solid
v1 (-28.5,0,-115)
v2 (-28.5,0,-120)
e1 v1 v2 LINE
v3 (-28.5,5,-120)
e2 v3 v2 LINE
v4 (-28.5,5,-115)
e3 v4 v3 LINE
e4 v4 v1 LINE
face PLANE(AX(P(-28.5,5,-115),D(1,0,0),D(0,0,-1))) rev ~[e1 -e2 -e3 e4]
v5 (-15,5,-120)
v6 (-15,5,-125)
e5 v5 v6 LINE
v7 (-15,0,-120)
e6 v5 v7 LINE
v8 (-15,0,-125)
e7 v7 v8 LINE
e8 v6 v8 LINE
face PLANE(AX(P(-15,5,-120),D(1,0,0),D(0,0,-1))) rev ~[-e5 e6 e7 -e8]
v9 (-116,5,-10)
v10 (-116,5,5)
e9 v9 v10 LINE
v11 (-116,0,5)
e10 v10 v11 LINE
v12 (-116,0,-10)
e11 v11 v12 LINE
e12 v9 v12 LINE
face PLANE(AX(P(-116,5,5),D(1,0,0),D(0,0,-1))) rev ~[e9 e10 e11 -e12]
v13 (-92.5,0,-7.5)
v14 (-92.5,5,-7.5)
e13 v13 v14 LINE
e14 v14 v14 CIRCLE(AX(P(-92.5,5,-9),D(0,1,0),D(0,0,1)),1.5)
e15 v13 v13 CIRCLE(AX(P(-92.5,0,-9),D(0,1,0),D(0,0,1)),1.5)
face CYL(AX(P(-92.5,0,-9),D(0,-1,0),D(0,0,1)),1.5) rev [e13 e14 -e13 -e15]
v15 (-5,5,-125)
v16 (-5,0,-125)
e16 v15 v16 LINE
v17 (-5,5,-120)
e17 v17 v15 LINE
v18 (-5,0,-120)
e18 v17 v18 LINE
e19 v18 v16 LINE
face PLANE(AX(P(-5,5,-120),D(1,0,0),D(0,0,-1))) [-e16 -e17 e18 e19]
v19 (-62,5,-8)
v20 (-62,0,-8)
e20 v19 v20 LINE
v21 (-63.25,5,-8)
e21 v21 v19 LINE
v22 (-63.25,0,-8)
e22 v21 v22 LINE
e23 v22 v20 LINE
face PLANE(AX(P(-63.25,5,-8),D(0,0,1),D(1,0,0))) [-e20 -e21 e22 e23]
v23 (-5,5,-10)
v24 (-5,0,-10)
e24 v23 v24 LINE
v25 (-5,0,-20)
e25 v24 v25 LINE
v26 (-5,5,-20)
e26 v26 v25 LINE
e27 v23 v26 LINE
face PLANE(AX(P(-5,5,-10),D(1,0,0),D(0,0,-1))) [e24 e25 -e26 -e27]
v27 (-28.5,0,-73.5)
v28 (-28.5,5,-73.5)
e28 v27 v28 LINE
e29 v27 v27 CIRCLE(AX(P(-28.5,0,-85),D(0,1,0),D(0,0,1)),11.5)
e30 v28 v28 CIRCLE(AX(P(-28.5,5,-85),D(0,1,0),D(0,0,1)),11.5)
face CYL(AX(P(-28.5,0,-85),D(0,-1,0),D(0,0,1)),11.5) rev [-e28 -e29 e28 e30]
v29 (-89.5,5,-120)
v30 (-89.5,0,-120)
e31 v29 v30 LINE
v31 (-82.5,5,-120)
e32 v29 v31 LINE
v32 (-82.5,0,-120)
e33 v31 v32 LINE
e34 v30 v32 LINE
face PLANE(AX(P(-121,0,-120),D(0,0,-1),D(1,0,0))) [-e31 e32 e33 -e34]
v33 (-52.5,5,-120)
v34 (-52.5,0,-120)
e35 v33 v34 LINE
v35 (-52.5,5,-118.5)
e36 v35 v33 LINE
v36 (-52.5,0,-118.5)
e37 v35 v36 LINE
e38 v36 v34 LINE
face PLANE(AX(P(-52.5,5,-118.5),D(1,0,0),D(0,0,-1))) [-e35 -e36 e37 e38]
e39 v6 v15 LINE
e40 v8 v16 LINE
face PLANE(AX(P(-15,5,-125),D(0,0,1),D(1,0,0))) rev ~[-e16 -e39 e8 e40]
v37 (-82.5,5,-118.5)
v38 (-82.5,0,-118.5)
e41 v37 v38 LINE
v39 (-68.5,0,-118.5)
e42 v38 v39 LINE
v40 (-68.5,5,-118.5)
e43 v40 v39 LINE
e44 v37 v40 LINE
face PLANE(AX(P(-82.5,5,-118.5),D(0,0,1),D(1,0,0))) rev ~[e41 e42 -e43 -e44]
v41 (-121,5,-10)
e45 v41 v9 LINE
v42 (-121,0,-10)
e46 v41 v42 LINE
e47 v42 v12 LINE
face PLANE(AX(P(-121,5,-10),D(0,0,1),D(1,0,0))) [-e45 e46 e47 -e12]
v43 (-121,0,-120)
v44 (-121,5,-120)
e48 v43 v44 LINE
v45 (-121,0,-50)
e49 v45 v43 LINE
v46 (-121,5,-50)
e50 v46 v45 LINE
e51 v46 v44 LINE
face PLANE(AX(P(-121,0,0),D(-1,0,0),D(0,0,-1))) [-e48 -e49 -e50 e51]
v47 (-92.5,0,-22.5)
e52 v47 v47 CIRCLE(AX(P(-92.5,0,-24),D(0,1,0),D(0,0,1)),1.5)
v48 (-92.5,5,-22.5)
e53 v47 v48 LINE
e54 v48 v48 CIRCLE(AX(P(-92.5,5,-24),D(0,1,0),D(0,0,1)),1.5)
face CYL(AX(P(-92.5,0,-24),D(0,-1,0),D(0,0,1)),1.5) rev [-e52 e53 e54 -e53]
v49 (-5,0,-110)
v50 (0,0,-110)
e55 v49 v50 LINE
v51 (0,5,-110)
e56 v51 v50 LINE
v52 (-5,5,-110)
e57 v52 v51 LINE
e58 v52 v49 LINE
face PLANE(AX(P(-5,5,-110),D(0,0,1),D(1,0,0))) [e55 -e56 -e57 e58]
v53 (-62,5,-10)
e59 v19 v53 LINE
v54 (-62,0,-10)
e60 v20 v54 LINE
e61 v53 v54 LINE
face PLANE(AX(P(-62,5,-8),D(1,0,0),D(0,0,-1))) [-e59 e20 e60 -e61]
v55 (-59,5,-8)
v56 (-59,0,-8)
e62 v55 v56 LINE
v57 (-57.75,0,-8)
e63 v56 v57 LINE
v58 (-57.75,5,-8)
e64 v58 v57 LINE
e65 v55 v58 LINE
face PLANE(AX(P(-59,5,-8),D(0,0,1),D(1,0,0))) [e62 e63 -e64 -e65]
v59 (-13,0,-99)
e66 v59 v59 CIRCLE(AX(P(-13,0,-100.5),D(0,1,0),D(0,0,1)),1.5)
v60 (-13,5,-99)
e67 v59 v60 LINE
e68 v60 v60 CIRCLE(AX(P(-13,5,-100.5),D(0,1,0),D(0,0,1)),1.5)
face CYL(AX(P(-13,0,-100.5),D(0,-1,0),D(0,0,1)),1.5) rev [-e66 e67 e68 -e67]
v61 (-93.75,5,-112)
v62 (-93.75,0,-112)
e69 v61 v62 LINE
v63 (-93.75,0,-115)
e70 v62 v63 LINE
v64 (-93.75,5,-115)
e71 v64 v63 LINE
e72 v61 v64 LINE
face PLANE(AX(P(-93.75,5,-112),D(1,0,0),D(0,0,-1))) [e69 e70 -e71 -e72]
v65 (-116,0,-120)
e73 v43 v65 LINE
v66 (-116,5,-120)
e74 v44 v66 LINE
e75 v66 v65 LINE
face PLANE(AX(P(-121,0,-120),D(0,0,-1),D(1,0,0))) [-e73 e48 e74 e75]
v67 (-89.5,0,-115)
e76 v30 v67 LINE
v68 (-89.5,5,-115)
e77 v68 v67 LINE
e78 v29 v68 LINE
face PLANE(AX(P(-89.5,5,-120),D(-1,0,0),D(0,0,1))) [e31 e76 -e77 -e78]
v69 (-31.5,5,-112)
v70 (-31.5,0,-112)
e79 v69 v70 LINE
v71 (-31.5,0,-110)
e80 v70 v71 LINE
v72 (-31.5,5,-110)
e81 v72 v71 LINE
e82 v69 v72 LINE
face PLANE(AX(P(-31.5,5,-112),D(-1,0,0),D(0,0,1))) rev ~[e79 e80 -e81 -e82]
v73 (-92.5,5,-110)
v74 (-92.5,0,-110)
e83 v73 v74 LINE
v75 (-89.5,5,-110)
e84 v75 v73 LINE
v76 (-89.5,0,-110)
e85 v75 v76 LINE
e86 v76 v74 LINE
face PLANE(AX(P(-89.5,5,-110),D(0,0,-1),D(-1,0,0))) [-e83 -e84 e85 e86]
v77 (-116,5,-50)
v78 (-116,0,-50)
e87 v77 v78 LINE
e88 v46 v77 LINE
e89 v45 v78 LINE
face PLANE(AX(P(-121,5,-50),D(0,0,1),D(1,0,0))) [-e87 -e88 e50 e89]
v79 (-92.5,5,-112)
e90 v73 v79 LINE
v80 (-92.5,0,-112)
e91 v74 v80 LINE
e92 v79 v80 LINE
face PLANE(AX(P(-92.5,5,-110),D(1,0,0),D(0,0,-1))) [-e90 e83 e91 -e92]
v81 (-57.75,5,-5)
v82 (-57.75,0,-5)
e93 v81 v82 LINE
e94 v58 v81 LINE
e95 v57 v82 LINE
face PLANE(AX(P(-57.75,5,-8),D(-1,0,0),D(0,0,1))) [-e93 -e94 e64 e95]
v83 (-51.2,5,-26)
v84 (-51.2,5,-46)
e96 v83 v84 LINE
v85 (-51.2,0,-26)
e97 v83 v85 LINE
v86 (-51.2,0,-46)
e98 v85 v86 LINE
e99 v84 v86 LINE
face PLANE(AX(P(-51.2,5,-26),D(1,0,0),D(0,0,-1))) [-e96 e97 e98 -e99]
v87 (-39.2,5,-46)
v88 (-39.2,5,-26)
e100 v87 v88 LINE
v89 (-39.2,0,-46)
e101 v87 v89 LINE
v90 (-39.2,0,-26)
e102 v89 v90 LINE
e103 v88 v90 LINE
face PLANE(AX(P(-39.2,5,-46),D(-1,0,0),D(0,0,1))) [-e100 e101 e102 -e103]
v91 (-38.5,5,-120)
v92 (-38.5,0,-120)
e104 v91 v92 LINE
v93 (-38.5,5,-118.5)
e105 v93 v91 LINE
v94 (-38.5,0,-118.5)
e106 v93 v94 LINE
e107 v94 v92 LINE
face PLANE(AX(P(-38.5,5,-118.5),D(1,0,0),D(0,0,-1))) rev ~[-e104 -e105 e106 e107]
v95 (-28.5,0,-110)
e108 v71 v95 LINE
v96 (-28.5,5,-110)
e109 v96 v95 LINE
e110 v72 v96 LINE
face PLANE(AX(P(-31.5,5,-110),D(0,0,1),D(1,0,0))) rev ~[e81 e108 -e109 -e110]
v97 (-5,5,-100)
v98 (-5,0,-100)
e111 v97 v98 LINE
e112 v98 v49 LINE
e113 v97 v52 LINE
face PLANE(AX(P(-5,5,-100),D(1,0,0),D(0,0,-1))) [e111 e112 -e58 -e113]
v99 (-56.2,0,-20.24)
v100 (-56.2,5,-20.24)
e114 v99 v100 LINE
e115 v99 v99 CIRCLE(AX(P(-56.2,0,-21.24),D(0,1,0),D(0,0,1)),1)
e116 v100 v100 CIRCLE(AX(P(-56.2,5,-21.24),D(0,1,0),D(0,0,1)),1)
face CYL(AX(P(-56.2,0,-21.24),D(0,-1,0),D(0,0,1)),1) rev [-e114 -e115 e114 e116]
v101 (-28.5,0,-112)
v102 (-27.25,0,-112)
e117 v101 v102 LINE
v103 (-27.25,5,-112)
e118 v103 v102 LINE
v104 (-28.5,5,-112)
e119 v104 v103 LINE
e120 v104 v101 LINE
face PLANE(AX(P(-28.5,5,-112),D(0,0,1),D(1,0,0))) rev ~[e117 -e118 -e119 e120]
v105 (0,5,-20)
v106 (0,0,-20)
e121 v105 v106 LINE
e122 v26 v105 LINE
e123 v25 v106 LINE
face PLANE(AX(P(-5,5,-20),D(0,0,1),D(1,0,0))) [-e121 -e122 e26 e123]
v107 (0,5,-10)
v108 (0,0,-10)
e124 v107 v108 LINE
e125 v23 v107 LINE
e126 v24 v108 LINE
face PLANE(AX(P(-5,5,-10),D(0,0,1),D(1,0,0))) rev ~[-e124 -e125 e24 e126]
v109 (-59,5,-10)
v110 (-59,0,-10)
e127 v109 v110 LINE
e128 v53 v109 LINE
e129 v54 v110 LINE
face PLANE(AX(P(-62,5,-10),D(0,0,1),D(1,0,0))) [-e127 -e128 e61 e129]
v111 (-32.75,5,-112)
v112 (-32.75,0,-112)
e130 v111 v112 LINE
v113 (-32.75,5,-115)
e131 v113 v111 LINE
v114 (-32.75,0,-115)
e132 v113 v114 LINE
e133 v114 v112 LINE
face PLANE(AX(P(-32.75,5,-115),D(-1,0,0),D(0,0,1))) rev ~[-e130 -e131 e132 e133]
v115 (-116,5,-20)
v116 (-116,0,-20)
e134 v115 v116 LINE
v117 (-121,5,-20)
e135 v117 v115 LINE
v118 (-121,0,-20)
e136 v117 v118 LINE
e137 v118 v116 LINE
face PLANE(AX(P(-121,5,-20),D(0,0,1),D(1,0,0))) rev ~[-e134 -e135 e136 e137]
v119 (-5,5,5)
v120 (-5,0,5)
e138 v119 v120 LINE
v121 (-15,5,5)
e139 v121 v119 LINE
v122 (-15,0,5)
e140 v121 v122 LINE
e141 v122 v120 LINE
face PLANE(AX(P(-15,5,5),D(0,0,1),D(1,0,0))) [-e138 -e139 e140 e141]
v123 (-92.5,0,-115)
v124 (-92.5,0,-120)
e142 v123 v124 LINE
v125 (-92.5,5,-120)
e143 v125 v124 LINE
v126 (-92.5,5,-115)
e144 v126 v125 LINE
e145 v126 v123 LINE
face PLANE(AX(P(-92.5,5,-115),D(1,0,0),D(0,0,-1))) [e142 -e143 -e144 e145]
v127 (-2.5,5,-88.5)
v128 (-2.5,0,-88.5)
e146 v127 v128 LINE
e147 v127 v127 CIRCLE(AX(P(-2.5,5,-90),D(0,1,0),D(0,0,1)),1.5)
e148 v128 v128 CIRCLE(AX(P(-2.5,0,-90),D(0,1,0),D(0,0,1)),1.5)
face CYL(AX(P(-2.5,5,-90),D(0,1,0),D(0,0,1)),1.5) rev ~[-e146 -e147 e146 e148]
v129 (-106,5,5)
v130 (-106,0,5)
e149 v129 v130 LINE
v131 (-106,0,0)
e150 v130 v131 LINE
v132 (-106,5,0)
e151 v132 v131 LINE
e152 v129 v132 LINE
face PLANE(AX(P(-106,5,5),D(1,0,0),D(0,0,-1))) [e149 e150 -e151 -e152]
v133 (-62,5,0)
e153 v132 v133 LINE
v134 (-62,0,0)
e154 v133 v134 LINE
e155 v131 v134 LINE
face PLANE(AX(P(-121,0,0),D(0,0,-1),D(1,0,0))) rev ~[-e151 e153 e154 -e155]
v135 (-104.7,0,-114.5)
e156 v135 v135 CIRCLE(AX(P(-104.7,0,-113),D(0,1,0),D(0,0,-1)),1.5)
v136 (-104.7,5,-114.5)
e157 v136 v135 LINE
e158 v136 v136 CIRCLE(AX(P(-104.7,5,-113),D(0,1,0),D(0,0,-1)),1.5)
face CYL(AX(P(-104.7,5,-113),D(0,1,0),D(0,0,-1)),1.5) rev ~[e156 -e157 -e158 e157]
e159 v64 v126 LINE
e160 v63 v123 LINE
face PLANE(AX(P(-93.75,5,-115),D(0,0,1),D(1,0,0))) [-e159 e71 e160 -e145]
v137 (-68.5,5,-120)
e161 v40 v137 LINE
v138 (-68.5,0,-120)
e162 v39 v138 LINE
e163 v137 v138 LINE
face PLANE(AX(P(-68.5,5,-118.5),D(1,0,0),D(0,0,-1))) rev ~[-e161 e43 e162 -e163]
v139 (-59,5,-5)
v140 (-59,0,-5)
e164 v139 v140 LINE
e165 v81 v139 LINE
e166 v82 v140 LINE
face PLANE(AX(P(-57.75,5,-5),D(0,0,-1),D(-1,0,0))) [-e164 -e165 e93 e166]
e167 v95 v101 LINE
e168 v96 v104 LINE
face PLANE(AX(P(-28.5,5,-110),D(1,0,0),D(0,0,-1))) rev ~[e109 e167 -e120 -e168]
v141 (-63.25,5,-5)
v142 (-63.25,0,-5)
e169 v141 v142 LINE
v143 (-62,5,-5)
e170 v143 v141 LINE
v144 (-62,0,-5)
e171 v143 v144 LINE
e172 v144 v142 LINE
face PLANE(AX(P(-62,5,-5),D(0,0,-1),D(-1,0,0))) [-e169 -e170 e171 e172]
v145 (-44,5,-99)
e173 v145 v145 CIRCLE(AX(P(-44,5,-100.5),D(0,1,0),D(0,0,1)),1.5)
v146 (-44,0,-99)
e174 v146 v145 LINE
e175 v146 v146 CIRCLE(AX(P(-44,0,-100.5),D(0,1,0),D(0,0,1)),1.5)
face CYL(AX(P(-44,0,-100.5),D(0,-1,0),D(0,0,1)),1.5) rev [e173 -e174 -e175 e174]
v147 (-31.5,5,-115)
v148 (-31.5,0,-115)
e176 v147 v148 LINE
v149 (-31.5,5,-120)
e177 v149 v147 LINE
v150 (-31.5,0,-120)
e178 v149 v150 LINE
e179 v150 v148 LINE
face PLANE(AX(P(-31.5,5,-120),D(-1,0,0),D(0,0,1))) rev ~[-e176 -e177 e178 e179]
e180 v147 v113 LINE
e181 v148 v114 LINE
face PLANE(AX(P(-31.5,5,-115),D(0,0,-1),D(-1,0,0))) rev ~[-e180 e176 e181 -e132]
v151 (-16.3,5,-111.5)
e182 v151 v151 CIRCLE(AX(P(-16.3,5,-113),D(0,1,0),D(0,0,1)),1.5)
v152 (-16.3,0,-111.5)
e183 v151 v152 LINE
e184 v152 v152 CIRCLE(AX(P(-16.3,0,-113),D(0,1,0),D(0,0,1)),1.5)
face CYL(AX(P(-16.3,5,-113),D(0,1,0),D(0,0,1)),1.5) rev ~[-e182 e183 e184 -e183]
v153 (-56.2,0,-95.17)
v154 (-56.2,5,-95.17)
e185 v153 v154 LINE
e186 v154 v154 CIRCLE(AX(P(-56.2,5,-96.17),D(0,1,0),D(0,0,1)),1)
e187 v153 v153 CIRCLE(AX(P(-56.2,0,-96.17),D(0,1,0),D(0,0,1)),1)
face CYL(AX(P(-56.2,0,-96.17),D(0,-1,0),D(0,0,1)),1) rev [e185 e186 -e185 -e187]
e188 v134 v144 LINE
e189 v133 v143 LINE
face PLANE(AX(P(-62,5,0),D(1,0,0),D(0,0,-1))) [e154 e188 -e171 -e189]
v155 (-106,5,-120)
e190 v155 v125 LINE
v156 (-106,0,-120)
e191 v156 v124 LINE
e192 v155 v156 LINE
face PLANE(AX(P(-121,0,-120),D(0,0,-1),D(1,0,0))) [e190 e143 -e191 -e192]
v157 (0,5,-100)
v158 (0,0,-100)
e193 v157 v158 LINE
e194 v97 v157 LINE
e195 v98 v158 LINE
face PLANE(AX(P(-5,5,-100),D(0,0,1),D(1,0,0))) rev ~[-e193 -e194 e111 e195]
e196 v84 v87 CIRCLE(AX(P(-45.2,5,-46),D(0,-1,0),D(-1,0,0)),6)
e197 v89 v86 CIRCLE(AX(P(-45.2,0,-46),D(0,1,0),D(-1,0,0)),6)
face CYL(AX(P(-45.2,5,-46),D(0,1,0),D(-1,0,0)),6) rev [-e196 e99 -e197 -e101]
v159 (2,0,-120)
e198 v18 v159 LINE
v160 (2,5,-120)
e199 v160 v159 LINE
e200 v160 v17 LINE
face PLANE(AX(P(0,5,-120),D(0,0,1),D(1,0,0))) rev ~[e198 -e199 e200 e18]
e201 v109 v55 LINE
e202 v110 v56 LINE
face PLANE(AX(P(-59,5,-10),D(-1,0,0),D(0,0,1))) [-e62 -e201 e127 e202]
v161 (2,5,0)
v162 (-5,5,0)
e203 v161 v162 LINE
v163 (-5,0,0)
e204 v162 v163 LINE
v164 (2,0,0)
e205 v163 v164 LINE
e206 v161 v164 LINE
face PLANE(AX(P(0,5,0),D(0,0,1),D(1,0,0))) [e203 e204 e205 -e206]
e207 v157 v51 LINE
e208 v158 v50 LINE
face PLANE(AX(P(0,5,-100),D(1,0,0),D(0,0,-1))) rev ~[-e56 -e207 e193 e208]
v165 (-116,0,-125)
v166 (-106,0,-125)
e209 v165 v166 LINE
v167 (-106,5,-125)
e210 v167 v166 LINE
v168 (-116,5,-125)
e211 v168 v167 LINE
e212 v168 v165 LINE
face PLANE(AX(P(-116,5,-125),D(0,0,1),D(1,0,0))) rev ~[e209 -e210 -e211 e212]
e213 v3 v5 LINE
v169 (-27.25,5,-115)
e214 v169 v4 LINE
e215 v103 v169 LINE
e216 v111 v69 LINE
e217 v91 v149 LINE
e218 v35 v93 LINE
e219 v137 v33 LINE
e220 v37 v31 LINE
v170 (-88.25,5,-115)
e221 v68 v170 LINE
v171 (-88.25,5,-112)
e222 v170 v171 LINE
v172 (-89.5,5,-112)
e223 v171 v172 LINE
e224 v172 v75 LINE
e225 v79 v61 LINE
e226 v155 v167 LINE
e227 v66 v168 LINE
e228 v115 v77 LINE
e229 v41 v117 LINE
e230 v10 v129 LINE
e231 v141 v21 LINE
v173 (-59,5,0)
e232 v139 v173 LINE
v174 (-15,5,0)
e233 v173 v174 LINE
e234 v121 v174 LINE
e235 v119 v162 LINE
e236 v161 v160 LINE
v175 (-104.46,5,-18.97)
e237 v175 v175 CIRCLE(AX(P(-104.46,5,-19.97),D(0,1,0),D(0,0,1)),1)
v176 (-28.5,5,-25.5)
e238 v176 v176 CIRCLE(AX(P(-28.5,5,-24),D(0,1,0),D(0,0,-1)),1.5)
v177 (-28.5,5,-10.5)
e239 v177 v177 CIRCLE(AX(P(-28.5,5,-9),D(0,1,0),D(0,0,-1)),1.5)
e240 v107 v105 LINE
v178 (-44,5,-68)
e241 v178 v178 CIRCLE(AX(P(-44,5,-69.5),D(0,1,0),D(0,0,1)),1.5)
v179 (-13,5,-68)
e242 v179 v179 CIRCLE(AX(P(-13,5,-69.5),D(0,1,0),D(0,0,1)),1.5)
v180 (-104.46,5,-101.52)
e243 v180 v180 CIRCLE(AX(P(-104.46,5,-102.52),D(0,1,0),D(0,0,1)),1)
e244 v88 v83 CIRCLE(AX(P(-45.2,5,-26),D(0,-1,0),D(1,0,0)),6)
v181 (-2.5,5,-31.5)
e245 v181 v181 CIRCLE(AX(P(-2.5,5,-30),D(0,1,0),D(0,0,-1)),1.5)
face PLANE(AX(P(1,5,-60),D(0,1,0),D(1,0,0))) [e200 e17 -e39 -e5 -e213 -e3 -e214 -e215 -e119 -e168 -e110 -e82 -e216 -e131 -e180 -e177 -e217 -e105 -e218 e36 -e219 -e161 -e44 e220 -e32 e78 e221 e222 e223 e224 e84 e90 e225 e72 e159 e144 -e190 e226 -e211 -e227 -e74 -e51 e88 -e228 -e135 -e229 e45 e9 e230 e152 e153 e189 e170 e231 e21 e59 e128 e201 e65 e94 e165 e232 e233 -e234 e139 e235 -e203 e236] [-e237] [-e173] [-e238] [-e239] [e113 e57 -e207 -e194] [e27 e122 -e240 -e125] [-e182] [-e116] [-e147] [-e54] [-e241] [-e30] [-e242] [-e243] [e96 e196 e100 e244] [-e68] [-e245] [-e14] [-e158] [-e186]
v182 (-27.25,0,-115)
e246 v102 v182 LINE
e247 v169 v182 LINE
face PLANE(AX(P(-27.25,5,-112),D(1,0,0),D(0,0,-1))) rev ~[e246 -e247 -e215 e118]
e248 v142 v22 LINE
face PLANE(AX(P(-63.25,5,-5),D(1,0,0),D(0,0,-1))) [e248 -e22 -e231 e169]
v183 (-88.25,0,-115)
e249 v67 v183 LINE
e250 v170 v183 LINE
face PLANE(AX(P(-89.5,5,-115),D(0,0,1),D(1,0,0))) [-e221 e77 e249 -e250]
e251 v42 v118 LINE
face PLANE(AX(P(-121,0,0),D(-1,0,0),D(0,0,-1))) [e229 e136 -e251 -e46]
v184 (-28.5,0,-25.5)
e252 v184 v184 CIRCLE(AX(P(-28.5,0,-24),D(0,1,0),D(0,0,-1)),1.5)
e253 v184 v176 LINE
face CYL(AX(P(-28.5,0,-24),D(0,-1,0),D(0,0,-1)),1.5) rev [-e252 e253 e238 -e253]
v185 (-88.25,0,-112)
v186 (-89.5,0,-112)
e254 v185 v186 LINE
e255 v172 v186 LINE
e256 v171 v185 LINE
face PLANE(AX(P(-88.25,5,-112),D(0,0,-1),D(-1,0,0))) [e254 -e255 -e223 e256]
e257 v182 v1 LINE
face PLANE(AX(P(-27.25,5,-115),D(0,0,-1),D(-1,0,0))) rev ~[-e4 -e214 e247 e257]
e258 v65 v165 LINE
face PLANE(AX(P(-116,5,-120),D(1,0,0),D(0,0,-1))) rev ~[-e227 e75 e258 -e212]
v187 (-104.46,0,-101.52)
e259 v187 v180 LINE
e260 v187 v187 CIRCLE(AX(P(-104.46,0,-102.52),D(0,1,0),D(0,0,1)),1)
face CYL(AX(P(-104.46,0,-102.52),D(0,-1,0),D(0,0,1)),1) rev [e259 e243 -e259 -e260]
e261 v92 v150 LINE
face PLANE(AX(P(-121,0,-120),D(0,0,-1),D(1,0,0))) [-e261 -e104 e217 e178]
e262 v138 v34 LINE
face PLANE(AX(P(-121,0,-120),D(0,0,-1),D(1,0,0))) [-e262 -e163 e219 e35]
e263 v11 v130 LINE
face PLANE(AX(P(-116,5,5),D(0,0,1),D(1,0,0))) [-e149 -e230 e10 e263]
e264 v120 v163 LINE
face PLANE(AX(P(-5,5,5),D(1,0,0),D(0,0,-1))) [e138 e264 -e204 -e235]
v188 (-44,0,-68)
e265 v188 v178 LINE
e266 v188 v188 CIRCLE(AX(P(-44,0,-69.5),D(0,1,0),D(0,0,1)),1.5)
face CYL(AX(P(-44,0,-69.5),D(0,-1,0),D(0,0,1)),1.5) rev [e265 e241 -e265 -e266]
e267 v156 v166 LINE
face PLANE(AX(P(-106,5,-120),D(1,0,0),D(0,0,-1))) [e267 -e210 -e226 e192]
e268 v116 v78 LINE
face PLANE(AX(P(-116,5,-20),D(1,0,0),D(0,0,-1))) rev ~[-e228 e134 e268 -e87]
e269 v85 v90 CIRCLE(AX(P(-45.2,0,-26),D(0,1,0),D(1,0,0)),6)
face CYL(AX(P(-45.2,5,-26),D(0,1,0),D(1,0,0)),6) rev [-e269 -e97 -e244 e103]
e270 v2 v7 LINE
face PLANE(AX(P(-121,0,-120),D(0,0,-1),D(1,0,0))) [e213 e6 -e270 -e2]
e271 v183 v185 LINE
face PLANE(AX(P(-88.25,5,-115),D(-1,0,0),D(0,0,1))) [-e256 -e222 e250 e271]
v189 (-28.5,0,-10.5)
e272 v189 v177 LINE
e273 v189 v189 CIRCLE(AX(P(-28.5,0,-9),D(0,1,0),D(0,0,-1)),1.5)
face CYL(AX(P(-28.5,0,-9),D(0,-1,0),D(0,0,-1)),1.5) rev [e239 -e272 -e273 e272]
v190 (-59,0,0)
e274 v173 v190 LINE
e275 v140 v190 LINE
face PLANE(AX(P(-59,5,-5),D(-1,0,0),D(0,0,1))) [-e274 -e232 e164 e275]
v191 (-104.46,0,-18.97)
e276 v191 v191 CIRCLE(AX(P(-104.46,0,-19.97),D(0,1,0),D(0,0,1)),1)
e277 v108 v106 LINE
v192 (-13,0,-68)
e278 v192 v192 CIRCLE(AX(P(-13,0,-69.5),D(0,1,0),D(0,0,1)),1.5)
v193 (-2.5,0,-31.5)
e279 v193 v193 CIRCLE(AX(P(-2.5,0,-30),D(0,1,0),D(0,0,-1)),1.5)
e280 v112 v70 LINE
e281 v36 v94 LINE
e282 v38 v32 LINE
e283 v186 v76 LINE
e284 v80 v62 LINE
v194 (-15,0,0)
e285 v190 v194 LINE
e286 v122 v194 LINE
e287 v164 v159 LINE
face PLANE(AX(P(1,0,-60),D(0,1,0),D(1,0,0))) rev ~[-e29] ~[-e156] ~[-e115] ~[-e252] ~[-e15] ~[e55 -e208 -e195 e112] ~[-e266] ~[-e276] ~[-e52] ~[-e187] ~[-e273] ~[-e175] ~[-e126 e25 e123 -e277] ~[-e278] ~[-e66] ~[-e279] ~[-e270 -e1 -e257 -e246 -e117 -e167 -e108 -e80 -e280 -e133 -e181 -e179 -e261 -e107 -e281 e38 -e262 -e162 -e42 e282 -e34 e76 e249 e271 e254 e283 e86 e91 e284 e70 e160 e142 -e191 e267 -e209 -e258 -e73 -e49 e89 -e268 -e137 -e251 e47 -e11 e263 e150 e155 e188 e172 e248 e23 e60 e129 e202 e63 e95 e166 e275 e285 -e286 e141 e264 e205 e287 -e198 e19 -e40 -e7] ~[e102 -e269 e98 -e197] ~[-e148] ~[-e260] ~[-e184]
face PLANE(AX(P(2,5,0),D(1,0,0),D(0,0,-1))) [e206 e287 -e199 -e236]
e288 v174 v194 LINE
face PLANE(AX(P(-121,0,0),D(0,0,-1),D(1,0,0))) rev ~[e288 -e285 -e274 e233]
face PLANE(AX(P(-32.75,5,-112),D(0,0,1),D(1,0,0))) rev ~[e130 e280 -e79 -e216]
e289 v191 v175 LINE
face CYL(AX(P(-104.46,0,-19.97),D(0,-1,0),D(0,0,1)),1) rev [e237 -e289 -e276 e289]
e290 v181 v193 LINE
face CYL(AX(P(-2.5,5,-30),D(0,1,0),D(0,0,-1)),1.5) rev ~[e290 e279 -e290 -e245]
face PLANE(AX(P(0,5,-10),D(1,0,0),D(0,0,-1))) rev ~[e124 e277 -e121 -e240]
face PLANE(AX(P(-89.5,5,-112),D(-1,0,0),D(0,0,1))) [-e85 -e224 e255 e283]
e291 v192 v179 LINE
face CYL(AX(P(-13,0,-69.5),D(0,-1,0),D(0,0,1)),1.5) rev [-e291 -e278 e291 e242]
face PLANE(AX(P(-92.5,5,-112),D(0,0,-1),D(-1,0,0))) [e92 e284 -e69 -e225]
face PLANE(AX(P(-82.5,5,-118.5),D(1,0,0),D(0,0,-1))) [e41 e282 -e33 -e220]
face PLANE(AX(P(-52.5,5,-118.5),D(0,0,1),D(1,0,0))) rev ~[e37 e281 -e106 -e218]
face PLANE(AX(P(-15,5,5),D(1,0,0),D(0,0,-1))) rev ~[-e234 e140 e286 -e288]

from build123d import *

# Parameters (mm, degrees)
SKETCH2_W           = 121
SKETCH2_H           = 120
SKETCH2_R           = 11.5
SKETCH2_R_2         = 1.5
SKETCH2_R_3         = 1
BOSS_EXTRUDE1_DEPTH = 5
SKETCH3_W           = 10
SKETCH3_H           = 5
SKETCH3_W_2         = 2
SKETCH3_H_2         = 120
BOSS_EXTRUDE2_DEPTH = 5
SKETCH4_R           = 1.5
SKETCH4_W           = 5
SKETCH4_H           = 10
SKETCH4_H_2         = 30
SKETCH4_W_2         = 14
SKETCH4_H_3         = 1.5
CUT_EXTRUDE1_DEPTH  = 175.043098111


with BuildPart() as part:
    # Sketch2 → Boss-Extrude1 (new body)
    with BuildSketch(Plane(origin=(0, 0, 0), x_dir=(1, 0, 0), z_dir=(0, 1, 0))):
        with Locations((-60.5, 60)):
            Rectangle(SKETCH2_W, SKETCH2_H)
        with Locations(Location((-28.5, 85, 0), (0, 0, 270))):
            Circle(SKETCH2_R, mode=Mode.SUBTRACT)
        with Locations(Location((-44, 100.5, 0), (0, 0, 270))):
            Circle(SKETCH2_R_2, mode=Mode.SUBTRACT)
        with Locations(Location((-13, 100.5, 0), (0, 0, 270))):
            Circle(SKETCH2_R_2, mode=Mode.SUBTRACT)
        with Locations(Location((-13, 69.5, 0), (0, 0, 270))):
            Circle(SKETCH2_R_2, mode=Mode.SUBTRACT)
        with Locations(Location((-44, 69.5, 0), (0, 0, 270))):
            Circle(SKETCH2_R_2, mode=Mode.SUBTRACT)
        with Locations(Location((-92.5, 24, 0), (0, 0, 270))):
            Circle(SKETCH2_R_2, mode=Mode.SUBTRACT)
        with Locations(Location((-92.5, 9, 0), (0, 0, 270))):
            Circle(SKETCH2_R_2, mode=Mode.SUBTRACT)
        with Locations(Location((-28.5, 9, 0), (0, 0, 90))):
            Circle(SKETCH2_R_2, mode=Mode.SUBTRACT)
        with Locations(Location((-28.5, 24, 0), (0, 0, 90))):
            Circle(SKETCH2_R_2, mode=Mode.SUBTRACT)
        with Locations(Location((-104.46, 19.97, 0), (0, 0, 270))):
            Circle(SKETCH2_R_3, mode=Mode.SUBTRACT)
        with Locations(Location((-104.46, 102.52, 0), (0, 0, 270))):
            Circle(SKETCH2_R_3, mode=Mode.SUBTRACT)
        with Locations(Location((-56.2, 96.17, 0), (0, 0, 270))):
            Circle(SKETCH2_R_3, mode=Mode.SUBTRACT)
        with Locations(Location((-56.2, 21.24, 0), (0, 0, 270))):
            Circle(SKETCH2_R_3, mode=Mode.SUBTRACT)
    extrude(amount=BOSS_EXTRUDE1_DEPTH)

    # Sketch3 → Boss-Extrude2 (add)
    with BuildSketch(Plane(origin=(0, 5, 0), x_dir=(1, 0, 0), z_dir=(0, 1, 0))):
        with Locations((-111, 122.5)):
            Rectangle(SKETCH3_W, SKETCH3_H)
        with Locations((-10, 122.5)):
            Rectangle(SKETCH3_W, SKETCH3_H)
        with Locations((-10, -2.5)):
            Rectangle(SKETCH3_W, SKETCH3_H)
        with Locations((-111, -2.5)):
            Rectangle(SKETCH3_W, SKETCH3_H)
        with Locations((1, 60)):
            Rectangle(SKETCH3_W_2, SKETCH3_H_2)
    extrude(amount=-BOSS_EXTRUDE2_DEPTH)

    # Sketch4 → Cut-Extrude1 (cut, through all)
    with BuildSketch(Plane(origin=(0, 5, 0), x_dir=(1, 0, 0), z_dir=(0, 1, 0))):
        with Locations(Location((-2.5, 90, 0), (0, 0, 270))):
            Circle(SKETCH4_R)
        with Locations(Location((-2.5, 30, 0), (0, 0, 90))):
            Circle(SKETCH4_R)
        with Locations(Location((-16.3, 113, 0), (0, 0, 270))):
            Circle(SKETCH4_R)
        with Locations(Location((-104.7, 113, 0), (0, 0, 90))):
            Circle(SKETCH4_R)
        with Locations((-2.5, 105)):
            Rectangle(SKETCH4_W, SKETCH4_H)
        with Locations((-2.5, 15)):
            Rectangle(SKETCH4_W, SKETCH4_H)
        with Locations((-118.5, 35)):
            Rectangle(SKETCH4_W, SKETCH4_H_2)
        with Locations((-118.5, 5)):
            Rectangle(SKETCH4_W, SKETCH4_H)
        with Locations((-75.5, 119.25)):
            Rectangle(SKETCH4_W_2, SKETCH4_H_3)
        with Locations((-45.5, 119.25)):
            Rectangle(SKETCH4_W_2, SKETCH4_H_3)
        Polygon((-31.5, 120), (-31.5, 115), (-32.75, 115), (-32.75, 112), (-31.5, 112), (-31.5, 110), (-28.5, 110), (-28.5, 112), (-27.25, 112), (-27.25, 115), (-28.5, 115), (-28.5, 120), align=None)
        Polygon((-92.5, 120), (-89.5, 120), (-89.5, 115), (-88.25, 115), (-88.25, 112), (-89.5, 112), (-89.5, 110), (-92.5, 110), (-92.5, 112), (-93.75, 112), (-93.75, 115), (-92.5, 115), align=None)
        with BuildLine():
            Line((-51.2, 26), (-51.2, 46))
            ThreePointArc((-51.2, 46), (-45.2, 52), (-39.2, 46))
            Line((-39.2, 46), (-39.2, 26))
            ThreePointArc((-39.2, 26), (-45.2, 20), (-51.2, 26))
        make_face()
        Polygon((-62, 0), (-62, 5), (-63.25, 5), (-63.25, 8), (-62, 8), (-62, 10), (-59, 10), (-59, 8), (-57.75, 8), (-57.75, 5), (-59, 5), (-59, 0), align=None)
    extrude(amount=-CUT_EXTRUDE1_DEPTH, mode=Mode.SUBTRACT)


solid = part.part
